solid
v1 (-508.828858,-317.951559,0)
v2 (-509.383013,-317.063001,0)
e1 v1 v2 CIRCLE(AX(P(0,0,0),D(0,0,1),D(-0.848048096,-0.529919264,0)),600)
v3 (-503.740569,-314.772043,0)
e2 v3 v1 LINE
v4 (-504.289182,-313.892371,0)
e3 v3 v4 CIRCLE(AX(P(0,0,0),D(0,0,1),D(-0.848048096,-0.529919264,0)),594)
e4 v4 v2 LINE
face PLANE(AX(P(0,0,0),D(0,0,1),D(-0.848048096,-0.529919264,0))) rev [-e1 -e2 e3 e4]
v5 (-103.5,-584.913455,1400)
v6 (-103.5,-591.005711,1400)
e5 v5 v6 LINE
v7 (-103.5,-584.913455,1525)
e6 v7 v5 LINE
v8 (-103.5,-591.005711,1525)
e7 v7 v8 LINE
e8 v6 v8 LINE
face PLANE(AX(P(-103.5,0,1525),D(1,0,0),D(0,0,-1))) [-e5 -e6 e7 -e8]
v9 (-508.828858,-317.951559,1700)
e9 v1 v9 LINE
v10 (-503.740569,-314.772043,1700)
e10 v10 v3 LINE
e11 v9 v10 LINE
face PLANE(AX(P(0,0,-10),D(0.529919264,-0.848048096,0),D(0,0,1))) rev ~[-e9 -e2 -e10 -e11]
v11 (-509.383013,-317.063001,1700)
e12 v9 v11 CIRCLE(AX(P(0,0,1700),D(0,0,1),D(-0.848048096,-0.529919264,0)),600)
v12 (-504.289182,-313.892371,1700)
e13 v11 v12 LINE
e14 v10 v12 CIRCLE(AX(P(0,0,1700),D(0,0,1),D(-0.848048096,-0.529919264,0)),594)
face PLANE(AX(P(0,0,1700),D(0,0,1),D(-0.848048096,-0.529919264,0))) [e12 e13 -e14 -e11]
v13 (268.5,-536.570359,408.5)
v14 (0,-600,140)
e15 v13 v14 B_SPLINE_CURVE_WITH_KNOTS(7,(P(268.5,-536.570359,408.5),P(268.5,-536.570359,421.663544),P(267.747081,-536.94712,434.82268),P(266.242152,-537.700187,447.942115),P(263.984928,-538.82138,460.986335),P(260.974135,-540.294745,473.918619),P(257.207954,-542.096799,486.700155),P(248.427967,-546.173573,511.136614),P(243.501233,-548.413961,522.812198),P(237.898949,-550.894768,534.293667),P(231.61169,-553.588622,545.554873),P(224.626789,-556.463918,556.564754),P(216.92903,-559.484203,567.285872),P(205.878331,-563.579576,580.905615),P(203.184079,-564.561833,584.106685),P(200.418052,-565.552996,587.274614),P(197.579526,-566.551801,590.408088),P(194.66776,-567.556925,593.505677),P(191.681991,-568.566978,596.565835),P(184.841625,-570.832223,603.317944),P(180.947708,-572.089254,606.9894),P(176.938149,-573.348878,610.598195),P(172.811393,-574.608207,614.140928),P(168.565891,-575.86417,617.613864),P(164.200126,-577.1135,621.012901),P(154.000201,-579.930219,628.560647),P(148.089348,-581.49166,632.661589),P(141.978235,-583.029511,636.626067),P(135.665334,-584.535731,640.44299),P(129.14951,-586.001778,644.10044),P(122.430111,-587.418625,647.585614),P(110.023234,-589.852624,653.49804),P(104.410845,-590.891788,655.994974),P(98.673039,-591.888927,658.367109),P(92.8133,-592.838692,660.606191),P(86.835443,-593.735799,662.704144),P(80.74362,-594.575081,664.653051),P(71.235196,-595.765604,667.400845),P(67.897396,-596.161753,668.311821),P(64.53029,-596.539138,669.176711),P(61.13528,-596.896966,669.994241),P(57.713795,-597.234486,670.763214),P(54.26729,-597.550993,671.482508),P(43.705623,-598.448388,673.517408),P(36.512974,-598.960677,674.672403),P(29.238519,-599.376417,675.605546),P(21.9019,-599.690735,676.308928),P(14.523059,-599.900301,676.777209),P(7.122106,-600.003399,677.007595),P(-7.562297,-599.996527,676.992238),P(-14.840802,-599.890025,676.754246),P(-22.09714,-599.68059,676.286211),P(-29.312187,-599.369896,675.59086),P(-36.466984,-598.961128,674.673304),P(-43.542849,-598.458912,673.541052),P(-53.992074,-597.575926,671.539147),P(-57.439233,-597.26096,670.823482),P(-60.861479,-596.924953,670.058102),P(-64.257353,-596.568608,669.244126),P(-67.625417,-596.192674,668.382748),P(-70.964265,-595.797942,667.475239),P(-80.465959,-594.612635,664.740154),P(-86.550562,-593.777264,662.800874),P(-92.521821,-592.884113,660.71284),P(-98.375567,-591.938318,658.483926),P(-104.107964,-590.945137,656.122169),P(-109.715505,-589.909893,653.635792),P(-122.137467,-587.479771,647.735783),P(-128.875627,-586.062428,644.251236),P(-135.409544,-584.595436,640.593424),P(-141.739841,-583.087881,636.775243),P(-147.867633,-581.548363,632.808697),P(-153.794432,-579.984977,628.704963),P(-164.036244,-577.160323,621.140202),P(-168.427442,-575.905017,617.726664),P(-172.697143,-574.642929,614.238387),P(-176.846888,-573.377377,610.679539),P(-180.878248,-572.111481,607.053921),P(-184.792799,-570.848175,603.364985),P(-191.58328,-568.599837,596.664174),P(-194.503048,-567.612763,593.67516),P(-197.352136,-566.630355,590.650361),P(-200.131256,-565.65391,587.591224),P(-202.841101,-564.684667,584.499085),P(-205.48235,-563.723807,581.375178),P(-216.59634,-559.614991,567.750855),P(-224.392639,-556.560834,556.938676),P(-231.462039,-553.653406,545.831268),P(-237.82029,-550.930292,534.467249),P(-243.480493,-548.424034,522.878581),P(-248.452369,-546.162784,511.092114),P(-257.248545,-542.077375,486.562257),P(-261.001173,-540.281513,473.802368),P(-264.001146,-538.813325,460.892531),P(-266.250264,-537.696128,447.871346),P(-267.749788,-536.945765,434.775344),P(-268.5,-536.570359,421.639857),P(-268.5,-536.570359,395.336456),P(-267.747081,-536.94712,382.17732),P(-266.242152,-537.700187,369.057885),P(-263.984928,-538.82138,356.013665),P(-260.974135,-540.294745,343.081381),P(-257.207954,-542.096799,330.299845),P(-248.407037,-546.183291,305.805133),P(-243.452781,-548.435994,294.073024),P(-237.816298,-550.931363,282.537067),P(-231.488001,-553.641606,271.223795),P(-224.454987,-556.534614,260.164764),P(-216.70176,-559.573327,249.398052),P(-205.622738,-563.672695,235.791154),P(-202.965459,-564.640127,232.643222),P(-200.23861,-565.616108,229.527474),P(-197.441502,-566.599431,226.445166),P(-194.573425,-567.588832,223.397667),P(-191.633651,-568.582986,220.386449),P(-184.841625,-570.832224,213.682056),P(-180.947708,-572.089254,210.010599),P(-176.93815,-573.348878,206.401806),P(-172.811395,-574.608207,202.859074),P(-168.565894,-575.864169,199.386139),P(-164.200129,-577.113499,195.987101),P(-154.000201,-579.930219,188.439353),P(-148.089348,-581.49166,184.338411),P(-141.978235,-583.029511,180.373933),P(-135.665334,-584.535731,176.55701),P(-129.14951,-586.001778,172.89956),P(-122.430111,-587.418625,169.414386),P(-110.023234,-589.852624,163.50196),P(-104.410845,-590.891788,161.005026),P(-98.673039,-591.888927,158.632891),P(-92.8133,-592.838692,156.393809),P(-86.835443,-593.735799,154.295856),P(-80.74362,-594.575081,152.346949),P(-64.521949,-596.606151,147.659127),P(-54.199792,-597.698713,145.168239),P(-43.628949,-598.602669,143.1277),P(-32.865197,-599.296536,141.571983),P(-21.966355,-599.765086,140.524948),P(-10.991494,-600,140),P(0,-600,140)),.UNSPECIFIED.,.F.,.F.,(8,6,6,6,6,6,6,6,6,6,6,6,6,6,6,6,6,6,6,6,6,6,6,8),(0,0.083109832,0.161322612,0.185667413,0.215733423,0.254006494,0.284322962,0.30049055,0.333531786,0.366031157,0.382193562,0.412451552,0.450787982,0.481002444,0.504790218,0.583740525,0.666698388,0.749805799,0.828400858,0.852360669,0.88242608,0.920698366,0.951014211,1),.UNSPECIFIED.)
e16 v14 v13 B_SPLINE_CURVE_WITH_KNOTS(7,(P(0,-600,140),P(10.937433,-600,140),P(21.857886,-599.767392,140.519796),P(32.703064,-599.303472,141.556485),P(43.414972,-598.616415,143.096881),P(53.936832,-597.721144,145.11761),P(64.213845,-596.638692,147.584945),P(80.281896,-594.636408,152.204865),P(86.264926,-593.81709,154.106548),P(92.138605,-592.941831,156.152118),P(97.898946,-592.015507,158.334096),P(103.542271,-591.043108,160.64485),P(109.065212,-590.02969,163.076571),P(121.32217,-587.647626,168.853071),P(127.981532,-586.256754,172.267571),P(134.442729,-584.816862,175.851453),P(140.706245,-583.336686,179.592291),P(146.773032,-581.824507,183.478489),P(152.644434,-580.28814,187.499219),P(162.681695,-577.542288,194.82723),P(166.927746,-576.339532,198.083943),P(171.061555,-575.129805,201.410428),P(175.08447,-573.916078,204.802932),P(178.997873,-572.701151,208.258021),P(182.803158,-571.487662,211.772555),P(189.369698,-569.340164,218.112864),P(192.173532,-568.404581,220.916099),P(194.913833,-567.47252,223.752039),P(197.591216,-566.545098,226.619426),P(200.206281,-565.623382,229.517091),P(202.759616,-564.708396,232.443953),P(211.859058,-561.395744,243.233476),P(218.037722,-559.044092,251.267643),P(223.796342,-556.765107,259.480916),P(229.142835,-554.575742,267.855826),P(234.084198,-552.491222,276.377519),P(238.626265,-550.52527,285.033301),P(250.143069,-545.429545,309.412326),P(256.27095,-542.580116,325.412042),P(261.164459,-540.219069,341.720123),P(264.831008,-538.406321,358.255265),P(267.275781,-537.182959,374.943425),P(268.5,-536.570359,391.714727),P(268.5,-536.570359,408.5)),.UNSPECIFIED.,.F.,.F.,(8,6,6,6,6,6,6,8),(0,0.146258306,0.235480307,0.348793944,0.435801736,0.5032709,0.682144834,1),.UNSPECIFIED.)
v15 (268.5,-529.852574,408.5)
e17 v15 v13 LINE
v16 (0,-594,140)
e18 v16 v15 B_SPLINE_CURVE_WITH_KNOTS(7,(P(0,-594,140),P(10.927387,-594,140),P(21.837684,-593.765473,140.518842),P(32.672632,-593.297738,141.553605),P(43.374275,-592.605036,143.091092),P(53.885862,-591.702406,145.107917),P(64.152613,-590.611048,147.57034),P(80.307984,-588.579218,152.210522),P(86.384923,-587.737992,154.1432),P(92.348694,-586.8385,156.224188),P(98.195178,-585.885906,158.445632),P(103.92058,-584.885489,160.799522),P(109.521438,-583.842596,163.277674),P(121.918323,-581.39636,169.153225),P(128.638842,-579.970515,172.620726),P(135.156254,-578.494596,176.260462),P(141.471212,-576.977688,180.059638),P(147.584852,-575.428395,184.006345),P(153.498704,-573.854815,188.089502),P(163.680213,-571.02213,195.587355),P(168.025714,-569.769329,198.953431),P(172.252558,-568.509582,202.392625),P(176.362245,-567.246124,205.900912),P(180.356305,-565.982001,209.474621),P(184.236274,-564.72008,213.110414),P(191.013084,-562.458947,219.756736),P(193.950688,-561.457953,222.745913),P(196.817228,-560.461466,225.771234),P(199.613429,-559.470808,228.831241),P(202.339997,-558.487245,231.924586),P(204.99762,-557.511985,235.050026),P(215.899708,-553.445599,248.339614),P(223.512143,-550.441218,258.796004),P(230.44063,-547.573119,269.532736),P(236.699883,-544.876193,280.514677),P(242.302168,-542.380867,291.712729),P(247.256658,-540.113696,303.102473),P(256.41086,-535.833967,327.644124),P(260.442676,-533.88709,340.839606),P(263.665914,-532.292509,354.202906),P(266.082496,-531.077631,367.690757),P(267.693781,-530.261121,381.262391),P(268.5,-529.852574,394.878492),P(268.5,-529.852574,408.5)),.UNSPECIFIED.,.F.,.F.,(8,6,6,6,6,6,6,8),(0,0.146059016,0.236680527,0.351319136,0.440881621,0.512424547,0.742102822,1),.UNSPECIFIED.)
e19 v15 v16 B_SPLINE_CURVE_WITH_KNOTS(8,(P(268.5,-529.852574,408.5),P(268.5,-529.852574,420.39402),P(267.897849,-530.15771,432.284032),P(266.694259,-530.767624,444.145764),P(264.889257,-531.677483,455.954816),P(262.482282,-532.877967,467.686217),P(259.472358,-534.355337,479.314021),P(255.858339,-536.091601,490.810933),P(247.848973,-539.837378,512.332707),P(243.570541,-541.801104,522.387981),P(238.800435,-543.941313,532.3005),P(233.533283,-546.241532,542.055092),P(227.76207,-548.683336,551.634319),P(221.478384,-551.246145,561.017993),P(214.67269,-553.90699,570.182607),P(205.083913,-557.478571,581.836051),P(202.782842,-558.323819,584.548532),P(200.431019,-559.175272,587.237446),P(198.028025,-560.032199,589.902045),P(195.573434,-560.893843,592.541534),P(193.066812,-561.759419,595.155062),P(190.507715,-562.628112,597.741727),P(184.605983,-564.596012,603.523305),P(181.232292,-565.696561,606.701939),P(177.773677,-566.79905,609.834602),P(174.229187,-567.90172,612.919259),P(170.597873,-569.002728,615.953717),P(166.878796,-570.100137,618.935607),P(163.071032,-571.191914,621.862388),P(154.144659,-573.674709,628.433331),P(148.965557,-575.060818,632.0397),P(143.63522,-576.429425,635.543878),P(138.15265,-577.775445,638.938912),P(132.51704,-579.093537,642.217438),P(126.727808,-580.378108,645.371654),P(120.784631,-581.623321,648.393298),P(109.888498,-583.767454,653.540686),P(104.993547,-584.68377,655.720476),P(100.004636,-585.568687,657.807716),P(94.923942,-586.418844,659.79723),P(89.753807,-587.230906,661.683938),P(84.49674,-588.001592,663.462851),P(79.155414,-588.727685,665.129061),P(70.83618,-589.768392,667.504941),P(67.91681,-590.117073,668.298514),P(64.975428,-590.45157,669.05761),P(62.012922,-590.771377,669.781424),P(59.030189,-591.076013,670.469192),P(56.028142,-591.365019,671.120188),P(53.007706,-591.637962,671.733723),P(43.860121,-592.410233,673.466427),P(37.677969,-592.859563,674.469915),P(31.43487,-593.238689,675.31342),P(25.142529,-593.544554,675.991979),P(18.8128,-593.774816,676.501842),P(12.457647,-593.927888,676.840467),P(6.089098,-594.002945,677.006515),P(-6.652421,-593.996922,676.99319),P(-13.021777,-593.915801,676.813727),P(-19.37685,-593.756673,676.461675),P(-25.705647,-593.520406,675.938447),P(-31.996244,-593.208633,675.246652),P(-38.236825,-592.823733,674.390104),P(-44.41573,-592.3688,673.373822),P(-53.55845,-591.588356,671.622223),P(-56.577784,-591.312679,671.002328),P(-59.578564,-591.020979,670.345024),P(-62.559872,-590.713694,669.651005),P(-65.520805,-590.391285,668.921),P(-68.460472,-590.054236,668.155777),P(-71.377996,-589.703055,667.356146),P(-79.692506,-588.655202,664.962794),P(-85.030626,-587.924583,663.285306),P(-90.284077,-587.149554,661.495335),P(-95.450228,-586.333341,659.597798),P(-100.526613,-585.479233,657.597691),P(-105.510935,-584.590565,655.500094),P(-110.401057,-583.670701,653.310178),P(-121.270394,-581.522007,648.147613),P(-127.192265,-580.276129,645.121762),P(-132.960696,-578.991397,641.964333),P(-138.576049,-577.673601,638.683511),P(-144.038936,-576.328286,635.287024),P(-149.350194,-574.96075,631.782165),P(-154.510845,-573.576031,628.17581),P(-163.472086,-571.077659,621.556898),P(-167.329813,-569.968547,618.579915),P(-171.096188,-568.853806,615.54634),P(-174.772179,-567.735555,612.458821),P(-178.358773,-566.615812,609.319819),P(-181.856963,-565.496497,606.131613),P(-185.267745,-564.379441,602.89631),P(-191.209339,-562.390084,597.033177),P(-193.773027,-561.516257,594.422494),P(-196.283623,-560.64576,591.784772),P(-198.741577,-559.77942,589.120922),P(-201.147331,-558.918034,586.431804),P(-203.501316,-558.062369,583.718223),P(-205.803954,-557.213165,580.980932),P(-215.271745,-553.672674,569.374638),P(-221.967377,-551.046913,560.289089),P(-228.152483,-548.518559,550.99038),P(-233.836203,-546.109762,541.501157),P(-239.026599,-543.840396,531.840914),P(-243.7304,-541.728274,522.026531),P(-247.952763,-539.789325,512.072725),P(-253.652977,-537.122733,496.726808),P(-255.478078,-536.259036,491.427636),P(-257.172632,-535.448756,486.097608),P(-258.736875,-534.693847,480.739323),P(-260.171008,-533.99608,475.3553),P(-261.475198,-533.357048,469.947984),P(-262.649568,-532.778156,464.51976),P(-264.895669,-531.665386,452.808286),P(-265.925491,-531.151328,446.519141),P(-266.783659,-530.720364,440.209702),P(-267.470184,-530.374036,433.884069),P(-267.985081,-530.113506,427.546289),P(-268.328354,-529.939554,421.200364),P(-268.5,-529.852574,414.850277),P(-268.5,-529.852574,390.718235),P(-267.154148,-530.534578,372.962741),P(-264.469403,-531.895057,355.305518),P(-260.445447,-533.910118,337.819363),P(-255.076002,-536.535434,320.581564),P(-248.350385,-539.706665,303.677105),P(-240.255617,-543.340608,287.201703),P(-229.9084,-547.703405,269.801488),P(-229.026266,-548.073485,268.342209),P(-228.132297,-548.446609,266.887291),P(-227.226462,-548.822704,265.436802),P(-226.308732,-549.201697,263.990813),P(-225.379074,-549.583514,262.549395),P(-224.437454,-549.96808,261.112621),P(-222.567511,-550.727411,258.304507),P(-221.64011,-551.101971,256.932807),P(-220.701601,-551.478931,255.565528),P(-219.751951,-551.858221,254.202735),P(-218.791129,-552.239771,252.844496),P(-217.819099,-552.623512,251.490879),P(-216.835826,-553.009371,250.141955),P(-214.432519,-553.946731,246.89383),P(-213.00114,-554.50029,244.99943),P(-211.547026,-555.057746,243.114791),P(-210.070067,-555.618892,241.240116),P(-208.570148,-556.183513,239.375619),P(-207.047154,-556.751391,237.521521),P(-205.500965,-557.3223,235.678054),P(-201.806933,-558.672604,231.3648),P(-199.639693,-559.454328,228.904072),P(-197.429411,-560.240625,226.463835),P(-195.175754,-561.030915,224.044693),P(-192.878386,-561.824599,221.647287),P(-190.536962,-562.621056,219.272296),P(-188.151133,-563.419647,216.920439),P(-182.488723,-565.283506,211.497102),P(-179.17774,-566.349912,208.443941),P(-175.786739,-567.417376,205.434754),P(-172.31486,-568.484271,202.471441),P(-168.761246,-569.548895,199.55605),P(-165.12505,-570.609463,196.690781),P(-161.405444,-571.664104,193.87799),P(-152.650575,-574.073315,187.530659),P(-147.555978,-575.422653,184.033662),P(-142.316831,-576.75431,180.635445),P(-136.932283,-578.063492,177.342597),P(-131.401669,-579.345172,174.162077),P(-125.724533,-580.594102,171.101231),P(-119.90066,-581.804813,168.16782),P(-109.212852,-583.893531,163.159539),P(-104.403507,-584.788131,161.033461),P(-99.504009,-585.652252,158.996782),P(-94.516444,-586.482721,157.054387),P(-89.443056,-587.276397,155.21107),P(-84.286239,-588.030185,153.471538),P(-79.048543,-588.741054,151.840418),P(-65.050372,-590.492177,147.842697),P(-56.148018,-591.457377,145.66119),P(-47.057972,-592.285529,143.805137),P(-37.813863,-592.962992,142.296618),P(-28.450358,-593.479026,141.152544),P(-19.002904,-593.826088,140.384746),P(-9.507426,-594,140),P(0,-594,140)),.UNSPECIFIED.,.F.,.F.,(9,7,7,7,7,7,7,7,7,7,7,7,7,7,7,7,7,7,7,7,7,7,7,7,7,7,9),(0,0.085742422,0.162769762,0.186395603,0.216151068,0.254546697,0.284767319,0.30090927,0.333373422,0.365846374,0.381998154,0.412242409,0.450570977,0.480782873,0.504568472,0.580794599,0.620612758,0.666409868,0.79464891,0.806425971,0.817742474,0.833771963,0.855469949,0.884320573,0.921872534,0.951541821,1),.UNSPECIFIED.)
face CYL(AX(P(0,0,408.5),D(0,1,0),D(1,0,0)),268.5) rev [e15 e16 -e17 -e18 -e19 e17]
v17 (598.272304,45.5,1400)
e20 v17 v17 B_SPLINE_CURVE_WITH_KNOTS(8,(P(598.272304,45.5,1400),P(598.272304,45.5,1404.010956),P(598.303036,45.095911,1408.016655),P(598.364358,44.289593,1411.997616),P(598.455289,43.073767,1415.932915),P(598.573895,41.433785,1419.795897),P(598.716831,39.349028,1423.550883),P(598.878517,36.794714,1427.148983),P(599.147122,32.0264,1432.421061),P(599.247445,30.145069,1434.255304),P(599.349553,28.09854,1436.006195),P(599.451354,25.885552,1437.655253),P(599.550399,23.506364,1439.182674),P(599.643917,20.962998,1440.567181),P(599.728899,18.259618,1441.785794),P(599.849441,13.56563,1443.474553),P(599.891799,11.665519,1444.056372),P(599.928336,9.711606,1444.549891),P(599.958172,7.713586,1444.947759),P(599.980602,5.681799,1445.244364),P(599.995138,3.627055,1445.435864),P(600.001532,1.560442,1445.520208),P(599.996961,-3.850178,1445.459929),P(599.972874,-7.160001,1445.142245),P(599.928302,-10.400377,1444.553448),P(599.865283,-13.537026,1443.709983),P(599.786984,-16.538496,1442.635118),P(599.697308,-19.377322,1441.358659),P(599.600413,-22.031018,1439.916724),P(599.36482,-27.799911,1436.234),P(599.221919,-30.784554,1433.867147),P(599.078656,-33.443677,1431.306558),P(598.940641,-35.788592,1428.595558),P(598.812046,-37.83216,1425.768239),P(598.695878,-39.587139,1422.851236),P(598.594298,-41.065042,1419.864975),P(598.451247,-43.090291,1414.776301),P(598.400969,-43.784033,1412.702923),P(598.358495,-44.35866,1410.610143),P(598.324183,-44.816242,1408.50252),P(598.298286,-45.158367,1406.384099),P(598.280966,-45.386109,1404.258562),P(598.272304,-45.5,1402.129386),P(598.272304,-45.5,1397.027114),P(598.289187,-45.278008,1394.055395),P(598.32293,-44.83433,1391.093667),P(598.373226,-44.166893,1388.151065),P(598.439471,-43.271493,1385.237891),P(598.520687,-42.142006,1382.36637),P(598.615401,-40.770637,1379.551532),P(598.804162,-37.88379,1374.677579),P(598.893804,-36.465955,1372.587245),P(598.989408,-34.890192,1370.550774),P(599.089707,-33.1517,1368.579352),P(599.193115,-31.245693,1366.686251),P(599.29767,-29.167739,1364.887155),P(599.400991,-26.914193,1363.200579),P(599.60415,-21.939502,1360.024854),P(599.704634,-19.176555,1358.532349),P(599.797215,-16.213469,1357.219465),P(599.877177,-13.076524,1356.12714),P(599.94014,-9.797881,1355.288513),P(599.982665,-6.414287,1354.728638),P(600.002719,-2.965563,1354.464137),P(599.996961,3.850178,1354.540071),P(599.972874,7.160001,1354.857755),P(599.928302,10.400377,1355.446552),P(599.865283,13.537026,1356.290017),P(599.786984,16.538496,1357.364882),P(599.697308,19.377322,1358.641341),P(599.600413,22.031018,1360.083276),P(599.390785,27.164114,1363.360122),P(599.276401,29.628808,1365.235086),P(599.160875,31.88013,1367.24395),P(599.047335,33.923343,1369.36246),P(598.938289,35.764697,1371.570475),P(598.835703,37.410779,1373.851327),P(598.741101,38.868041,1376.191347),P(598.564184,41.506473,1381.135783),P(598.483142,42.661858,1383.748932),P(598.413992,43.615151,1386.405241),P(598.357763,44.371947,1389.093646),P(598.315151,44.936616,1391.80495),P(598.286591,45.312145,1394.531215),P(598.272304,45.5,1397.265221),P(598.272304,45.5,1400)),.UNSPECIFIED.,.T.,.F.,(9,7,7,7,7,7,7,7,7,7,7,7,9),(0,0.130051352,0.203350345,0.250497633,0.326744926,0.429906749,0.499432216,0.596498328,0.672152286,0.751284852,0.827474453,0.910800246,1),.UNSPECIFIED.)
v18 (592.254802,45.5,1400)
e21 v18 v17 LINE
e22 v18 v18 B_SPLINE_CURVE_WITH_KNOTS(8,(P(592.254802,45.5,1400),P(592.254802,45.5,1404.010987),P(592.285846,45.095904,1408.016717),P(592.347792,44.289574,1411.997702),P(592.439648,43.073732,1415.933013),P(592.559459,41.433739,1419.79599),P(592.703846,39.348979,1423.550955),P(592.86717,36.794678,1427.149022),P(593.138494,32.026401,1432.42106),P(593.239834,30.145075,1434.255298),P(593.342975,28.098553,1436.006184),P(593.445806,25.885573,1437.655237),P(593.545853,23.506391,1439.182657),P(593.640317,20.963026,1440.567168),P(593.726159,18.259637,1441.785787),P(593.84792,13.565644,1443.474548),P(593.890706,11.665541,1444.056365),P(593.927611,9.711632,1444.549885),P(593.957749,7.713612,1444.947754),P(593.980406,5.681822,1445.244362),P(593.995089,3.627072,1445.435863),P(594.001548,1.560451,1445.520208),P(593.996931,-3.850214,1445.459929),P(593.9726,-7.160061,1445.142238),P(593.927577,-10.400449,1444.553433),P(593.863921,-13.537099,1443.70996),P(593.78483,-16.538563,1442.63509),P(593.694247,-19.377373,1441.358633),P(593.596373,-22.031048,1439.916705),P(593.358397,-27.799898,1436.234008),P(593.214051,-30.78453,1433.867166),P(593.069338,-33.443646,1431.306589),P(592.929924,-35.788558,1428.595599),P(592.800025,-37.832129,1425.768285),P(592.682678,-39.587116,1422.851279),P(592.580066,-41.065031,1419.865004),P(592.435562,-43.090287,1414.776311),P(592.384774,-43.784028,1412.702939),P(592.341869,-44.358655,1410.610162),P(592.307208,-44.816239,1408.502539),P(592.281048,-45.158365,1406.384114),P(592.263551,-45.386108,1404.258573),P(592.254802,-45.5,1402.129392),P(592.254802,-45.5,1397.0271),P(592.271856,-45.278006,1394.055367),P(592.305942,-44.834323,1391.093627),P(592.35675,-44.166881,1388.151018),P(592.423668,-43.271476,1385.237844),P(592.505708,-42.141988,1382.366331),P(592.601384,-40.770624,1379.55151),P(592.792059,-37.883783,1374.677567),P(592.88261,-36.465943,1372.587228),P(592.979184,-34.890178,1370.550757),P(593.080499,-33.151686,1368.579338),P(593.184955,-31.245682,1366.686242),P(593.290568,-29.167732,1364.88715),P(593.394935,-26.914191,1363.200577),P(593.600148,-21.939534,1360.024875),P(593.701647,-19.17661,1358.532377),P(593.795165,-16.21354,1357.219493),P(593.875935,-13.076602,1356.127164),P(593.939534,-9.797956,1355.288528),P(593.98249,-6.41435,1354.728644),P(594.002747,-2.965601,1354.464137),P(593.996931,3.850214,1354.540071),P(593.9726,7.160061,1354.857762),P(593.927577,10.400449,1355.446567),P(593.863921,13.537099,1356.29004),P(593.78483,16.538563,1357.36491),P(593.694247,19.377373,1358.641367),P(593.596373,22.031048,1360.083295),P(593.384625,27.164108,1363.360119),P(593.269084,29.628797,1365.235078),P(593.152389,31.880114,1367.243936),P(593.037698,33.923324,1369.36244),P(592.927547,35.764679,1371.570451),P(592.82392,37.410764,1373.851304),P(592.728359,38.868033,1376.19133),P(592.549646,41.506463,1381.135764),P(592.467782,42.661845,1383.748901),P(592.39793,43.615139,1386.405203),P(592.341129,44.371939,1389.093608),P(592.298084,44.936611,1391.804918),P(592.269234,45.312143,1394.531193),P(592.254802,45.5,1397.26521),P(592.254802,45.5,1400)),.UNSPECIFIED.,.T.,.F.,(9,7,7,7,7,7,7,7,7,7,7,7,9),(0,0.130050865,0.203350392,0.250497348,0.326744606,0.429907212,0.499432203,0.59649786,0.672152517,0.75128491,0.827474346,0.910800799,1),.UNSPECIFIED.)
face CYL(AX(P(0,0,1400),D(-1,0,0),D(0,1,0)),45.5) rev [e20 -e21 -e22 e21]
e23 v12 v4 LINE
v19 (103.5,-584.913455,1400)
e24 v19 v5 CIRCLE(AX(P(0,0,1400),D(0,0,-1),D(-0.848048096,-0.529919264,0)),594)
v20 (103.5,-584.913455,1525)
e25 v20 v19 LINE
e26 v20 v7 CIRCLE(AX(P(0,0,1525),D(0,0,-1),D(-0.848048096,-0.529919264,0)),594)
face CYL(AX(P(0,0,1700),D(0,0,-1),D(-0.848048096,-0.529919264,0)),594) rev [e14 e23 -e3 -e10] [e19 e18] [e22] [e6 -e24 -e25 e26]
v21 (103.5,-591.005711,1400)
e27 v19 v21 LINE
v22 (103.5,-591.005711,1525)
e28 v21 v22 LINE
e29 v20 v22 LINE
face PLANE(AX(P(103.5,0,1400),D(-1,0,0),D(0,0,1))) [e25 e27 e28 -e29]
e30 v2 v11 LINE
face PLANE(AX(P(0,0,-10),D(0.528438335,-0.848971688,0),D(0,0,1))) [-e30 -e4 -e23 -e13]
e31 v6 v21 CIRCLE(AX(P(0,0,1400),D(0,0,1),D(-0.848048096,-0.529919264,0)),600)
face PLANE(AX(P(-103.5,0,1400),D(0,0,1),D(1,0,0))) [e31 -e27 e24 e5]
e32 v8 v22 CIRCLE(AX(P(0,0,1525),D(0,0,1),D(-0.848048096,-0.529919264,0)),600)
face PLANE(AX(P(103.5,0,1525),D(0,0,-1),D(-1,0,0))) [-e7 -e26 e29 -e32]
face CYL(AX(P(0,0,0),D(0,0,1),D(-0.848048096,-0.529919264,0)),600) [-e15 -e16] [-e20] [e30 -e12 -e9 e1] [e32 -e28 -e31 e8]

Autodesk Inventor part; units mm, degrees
sketch "Sketch13" plane through (0, 0, 0) normal (0, 0, 1) x (1, 0, 0)
  circle A0 centre (0, 0) radius 600 construction
  line L0 (0, 0) -> (0, -600)
  line L1 (0, 0) -> (-508.8289, -317.9516)
  line L2 (0, 0) -> (600, 0)
  line L3 (0, 0) -> (0, -600)
  line L4 (0, 0) -> (0, -600)
  line L5 (0, 0) -> (-534.6039, -272.3943)
  arc A1 (-508.8289, -317.9516) -> (0, -600) centre (0, 0) ccw
  dimension "d53" = 1200
  dimension "d54" = 58
  dimension "d55" = 0
  dimension "d56" = 0
  dimension "d57" = 270
  dimension "d58" = 63
ref_plane "WeldJoint" through (0, 0, -10) normal (0.5299, -0.848, 0) x (0, 0, 1)
ref_plane "Outer" through (0, 0, -10) normal (0.454, -0.891, 0) x (0, 0, 1)
ref_plane "Clock_Feeder" through (0, 0, -10) normal (0, 1, 0) x (0, 0, 1)
ref_plane "Charging" through (0, 0, -10) normal (1, 0, 0) x (0, 0, 1)
ref_plane "Accsess" through (0, 0, -10) normal (1, 0, 0) x (0, 0, 1)
sketch "Sketch14" plane through (0, 0, -10) normal (0.5299, -0.848, 0) x (0, 0, 1)
  line L0 (1710, 594) -> (10, 594)
  line L1 (10, 594) -> (10, 600)
  line L2 (10, 600) -> (1710, 600)
  line L3 (1710, 600) -> (1710, 594)
  line L4 (10, 0) -> (825.0673, 0)
  point P0 (10, 597)
  dimension "d59" = 1700
  dimension "d60" = 6
  dimension "d61" = 1200
revolve "Revolution2" add sketch "Sketch14" angle 359.9 about axis through (0, 0, 0) along (0, 0, 1)
sketch "Sketch AnglePlane_Feeder" plane through (0, 0, -10) normal (0, 1, 0) x (0, 0, 1)
  line L0 (10, -600) -> (10, 600) projected
  line L1 (10, 0) -> (1410, 0)
  line L2 (1410, 0) -> (1410, 600)
  line L3 (1410, 600) -> (10, 600)
  line L4 (10, 600) -> (10, 0)
  point P0 (10, -508.8289)
  point P1 (10, -509.383)
  dimension "d63" = 1200
  dimension "d64" = 90
  dimension "frd_hght" = 1400
ref_plane "AnglePlane_Feeder" through (0, 0, 1400) normal (1, 0, 0) x (0, 1, 0)
sketch "Sketch16" plane through (0, 0, 1400) normal (1, 0, 0) x (0, 1, 0)
  circle A0 centre (0, 0) radius 45.5
  point P0 (0, -1400)
  point P1 (0, 0)
  point P2 (0, 0)
  point P3 (0, 0)
  dimension "d66" = 91
extrude "Extrusion7" cut sketch "Sketch16" along normal through all
ref_plane "Work Plane16" through (0, 0, 0) normal (0, -1, 0) x (1, 0, 0)
sketch "Sketch17" plane through (0, 0, 0) normal (0, -1, 0) x (1, 0, 0)
  circle A0 centre (0, 408.5) radius 268.5
  line L0 (0, 140) -> (-495.5727, 140)
  point P0 (0, 0)
  dimension "d69" = 537
  dimension "d71" = 140
extrude "Extrusion8" cut sketch "Sketch17" along normal through all
sketch "Sketch19" plane through (0, 0, -10) normal (1, 0, 0) x (0, 0, 1)
  line L0 (10, 0) -> (1410, 0)
  line L1 (1410, 0) -> (1410, 600)
  line L2 (1410, 600) -> (10, 600)
  line L3 (10, 600) -> (10, 0)
  dimension "d74" = 1400
  dimension "d76" = 1200
  dimension "d77" = 90
ref_plane "Work Plane18" through (0, 0, 1400) normal (0, -1, 0) x (1, 0, 0)
sketch "Sketch20" plane through (0, 0, 1400) normal (0, -1, 0) x (1, 0, 0)
  line L0 (-103.5, 0) -> (103.5, 0)
  line L1 (103.5, 0) -> (103.5, 125)
  line L2 (103.5, 125) -> (-103.5, 125)
  line L3 (-103.5, 125) -> (-103.5, 0)
  point P0 (0, -1400)
  point P1 (0, 0)
  point P2 (0, 0)
  point P3 (0, 0)
  point P4 (0, 0)
  dimension "d78" = 207
  dimension "d79" = 125
extrude "Extrusion9" cut sketch "Sketch20" along normal through all
equation "\"BendRadius\" = Thickness"
equation "\"BendReliefWidth\" = Thickness"
equation "\"BendReliefDepth\" = 0.5 * Thickness"
equation "\"CornerReliefSize\" = 4 * Thickness"
equation "\"MinimumRemnant\" = 2 * Thickness"
equation "\"TransitionRadius\" = BendRadius"
equation "\"JacobiRadiusSize\" = BendRadius"
equation "\"GapSize\" = Thickness"
equation "\"Feeder_horisont_angle\" = 0"
equation "\"Hatch_Accsess_diameter\" = 535"
equation "\"Clock_Accsess_angle\" = 0"
equation "\"Clock_Charging_agnle\" = 0"
equation "\"Clock_Feeder_angle\" = 270deg"
equation "\"Clock_Outer_angle\" = 63deg"
equation "\"Clock_WeldJoint_angle\" = 58deg"
equation "\"Thickness\" = 6"
properties part number "PRS 1200-10 main Shell" material "Steel"
